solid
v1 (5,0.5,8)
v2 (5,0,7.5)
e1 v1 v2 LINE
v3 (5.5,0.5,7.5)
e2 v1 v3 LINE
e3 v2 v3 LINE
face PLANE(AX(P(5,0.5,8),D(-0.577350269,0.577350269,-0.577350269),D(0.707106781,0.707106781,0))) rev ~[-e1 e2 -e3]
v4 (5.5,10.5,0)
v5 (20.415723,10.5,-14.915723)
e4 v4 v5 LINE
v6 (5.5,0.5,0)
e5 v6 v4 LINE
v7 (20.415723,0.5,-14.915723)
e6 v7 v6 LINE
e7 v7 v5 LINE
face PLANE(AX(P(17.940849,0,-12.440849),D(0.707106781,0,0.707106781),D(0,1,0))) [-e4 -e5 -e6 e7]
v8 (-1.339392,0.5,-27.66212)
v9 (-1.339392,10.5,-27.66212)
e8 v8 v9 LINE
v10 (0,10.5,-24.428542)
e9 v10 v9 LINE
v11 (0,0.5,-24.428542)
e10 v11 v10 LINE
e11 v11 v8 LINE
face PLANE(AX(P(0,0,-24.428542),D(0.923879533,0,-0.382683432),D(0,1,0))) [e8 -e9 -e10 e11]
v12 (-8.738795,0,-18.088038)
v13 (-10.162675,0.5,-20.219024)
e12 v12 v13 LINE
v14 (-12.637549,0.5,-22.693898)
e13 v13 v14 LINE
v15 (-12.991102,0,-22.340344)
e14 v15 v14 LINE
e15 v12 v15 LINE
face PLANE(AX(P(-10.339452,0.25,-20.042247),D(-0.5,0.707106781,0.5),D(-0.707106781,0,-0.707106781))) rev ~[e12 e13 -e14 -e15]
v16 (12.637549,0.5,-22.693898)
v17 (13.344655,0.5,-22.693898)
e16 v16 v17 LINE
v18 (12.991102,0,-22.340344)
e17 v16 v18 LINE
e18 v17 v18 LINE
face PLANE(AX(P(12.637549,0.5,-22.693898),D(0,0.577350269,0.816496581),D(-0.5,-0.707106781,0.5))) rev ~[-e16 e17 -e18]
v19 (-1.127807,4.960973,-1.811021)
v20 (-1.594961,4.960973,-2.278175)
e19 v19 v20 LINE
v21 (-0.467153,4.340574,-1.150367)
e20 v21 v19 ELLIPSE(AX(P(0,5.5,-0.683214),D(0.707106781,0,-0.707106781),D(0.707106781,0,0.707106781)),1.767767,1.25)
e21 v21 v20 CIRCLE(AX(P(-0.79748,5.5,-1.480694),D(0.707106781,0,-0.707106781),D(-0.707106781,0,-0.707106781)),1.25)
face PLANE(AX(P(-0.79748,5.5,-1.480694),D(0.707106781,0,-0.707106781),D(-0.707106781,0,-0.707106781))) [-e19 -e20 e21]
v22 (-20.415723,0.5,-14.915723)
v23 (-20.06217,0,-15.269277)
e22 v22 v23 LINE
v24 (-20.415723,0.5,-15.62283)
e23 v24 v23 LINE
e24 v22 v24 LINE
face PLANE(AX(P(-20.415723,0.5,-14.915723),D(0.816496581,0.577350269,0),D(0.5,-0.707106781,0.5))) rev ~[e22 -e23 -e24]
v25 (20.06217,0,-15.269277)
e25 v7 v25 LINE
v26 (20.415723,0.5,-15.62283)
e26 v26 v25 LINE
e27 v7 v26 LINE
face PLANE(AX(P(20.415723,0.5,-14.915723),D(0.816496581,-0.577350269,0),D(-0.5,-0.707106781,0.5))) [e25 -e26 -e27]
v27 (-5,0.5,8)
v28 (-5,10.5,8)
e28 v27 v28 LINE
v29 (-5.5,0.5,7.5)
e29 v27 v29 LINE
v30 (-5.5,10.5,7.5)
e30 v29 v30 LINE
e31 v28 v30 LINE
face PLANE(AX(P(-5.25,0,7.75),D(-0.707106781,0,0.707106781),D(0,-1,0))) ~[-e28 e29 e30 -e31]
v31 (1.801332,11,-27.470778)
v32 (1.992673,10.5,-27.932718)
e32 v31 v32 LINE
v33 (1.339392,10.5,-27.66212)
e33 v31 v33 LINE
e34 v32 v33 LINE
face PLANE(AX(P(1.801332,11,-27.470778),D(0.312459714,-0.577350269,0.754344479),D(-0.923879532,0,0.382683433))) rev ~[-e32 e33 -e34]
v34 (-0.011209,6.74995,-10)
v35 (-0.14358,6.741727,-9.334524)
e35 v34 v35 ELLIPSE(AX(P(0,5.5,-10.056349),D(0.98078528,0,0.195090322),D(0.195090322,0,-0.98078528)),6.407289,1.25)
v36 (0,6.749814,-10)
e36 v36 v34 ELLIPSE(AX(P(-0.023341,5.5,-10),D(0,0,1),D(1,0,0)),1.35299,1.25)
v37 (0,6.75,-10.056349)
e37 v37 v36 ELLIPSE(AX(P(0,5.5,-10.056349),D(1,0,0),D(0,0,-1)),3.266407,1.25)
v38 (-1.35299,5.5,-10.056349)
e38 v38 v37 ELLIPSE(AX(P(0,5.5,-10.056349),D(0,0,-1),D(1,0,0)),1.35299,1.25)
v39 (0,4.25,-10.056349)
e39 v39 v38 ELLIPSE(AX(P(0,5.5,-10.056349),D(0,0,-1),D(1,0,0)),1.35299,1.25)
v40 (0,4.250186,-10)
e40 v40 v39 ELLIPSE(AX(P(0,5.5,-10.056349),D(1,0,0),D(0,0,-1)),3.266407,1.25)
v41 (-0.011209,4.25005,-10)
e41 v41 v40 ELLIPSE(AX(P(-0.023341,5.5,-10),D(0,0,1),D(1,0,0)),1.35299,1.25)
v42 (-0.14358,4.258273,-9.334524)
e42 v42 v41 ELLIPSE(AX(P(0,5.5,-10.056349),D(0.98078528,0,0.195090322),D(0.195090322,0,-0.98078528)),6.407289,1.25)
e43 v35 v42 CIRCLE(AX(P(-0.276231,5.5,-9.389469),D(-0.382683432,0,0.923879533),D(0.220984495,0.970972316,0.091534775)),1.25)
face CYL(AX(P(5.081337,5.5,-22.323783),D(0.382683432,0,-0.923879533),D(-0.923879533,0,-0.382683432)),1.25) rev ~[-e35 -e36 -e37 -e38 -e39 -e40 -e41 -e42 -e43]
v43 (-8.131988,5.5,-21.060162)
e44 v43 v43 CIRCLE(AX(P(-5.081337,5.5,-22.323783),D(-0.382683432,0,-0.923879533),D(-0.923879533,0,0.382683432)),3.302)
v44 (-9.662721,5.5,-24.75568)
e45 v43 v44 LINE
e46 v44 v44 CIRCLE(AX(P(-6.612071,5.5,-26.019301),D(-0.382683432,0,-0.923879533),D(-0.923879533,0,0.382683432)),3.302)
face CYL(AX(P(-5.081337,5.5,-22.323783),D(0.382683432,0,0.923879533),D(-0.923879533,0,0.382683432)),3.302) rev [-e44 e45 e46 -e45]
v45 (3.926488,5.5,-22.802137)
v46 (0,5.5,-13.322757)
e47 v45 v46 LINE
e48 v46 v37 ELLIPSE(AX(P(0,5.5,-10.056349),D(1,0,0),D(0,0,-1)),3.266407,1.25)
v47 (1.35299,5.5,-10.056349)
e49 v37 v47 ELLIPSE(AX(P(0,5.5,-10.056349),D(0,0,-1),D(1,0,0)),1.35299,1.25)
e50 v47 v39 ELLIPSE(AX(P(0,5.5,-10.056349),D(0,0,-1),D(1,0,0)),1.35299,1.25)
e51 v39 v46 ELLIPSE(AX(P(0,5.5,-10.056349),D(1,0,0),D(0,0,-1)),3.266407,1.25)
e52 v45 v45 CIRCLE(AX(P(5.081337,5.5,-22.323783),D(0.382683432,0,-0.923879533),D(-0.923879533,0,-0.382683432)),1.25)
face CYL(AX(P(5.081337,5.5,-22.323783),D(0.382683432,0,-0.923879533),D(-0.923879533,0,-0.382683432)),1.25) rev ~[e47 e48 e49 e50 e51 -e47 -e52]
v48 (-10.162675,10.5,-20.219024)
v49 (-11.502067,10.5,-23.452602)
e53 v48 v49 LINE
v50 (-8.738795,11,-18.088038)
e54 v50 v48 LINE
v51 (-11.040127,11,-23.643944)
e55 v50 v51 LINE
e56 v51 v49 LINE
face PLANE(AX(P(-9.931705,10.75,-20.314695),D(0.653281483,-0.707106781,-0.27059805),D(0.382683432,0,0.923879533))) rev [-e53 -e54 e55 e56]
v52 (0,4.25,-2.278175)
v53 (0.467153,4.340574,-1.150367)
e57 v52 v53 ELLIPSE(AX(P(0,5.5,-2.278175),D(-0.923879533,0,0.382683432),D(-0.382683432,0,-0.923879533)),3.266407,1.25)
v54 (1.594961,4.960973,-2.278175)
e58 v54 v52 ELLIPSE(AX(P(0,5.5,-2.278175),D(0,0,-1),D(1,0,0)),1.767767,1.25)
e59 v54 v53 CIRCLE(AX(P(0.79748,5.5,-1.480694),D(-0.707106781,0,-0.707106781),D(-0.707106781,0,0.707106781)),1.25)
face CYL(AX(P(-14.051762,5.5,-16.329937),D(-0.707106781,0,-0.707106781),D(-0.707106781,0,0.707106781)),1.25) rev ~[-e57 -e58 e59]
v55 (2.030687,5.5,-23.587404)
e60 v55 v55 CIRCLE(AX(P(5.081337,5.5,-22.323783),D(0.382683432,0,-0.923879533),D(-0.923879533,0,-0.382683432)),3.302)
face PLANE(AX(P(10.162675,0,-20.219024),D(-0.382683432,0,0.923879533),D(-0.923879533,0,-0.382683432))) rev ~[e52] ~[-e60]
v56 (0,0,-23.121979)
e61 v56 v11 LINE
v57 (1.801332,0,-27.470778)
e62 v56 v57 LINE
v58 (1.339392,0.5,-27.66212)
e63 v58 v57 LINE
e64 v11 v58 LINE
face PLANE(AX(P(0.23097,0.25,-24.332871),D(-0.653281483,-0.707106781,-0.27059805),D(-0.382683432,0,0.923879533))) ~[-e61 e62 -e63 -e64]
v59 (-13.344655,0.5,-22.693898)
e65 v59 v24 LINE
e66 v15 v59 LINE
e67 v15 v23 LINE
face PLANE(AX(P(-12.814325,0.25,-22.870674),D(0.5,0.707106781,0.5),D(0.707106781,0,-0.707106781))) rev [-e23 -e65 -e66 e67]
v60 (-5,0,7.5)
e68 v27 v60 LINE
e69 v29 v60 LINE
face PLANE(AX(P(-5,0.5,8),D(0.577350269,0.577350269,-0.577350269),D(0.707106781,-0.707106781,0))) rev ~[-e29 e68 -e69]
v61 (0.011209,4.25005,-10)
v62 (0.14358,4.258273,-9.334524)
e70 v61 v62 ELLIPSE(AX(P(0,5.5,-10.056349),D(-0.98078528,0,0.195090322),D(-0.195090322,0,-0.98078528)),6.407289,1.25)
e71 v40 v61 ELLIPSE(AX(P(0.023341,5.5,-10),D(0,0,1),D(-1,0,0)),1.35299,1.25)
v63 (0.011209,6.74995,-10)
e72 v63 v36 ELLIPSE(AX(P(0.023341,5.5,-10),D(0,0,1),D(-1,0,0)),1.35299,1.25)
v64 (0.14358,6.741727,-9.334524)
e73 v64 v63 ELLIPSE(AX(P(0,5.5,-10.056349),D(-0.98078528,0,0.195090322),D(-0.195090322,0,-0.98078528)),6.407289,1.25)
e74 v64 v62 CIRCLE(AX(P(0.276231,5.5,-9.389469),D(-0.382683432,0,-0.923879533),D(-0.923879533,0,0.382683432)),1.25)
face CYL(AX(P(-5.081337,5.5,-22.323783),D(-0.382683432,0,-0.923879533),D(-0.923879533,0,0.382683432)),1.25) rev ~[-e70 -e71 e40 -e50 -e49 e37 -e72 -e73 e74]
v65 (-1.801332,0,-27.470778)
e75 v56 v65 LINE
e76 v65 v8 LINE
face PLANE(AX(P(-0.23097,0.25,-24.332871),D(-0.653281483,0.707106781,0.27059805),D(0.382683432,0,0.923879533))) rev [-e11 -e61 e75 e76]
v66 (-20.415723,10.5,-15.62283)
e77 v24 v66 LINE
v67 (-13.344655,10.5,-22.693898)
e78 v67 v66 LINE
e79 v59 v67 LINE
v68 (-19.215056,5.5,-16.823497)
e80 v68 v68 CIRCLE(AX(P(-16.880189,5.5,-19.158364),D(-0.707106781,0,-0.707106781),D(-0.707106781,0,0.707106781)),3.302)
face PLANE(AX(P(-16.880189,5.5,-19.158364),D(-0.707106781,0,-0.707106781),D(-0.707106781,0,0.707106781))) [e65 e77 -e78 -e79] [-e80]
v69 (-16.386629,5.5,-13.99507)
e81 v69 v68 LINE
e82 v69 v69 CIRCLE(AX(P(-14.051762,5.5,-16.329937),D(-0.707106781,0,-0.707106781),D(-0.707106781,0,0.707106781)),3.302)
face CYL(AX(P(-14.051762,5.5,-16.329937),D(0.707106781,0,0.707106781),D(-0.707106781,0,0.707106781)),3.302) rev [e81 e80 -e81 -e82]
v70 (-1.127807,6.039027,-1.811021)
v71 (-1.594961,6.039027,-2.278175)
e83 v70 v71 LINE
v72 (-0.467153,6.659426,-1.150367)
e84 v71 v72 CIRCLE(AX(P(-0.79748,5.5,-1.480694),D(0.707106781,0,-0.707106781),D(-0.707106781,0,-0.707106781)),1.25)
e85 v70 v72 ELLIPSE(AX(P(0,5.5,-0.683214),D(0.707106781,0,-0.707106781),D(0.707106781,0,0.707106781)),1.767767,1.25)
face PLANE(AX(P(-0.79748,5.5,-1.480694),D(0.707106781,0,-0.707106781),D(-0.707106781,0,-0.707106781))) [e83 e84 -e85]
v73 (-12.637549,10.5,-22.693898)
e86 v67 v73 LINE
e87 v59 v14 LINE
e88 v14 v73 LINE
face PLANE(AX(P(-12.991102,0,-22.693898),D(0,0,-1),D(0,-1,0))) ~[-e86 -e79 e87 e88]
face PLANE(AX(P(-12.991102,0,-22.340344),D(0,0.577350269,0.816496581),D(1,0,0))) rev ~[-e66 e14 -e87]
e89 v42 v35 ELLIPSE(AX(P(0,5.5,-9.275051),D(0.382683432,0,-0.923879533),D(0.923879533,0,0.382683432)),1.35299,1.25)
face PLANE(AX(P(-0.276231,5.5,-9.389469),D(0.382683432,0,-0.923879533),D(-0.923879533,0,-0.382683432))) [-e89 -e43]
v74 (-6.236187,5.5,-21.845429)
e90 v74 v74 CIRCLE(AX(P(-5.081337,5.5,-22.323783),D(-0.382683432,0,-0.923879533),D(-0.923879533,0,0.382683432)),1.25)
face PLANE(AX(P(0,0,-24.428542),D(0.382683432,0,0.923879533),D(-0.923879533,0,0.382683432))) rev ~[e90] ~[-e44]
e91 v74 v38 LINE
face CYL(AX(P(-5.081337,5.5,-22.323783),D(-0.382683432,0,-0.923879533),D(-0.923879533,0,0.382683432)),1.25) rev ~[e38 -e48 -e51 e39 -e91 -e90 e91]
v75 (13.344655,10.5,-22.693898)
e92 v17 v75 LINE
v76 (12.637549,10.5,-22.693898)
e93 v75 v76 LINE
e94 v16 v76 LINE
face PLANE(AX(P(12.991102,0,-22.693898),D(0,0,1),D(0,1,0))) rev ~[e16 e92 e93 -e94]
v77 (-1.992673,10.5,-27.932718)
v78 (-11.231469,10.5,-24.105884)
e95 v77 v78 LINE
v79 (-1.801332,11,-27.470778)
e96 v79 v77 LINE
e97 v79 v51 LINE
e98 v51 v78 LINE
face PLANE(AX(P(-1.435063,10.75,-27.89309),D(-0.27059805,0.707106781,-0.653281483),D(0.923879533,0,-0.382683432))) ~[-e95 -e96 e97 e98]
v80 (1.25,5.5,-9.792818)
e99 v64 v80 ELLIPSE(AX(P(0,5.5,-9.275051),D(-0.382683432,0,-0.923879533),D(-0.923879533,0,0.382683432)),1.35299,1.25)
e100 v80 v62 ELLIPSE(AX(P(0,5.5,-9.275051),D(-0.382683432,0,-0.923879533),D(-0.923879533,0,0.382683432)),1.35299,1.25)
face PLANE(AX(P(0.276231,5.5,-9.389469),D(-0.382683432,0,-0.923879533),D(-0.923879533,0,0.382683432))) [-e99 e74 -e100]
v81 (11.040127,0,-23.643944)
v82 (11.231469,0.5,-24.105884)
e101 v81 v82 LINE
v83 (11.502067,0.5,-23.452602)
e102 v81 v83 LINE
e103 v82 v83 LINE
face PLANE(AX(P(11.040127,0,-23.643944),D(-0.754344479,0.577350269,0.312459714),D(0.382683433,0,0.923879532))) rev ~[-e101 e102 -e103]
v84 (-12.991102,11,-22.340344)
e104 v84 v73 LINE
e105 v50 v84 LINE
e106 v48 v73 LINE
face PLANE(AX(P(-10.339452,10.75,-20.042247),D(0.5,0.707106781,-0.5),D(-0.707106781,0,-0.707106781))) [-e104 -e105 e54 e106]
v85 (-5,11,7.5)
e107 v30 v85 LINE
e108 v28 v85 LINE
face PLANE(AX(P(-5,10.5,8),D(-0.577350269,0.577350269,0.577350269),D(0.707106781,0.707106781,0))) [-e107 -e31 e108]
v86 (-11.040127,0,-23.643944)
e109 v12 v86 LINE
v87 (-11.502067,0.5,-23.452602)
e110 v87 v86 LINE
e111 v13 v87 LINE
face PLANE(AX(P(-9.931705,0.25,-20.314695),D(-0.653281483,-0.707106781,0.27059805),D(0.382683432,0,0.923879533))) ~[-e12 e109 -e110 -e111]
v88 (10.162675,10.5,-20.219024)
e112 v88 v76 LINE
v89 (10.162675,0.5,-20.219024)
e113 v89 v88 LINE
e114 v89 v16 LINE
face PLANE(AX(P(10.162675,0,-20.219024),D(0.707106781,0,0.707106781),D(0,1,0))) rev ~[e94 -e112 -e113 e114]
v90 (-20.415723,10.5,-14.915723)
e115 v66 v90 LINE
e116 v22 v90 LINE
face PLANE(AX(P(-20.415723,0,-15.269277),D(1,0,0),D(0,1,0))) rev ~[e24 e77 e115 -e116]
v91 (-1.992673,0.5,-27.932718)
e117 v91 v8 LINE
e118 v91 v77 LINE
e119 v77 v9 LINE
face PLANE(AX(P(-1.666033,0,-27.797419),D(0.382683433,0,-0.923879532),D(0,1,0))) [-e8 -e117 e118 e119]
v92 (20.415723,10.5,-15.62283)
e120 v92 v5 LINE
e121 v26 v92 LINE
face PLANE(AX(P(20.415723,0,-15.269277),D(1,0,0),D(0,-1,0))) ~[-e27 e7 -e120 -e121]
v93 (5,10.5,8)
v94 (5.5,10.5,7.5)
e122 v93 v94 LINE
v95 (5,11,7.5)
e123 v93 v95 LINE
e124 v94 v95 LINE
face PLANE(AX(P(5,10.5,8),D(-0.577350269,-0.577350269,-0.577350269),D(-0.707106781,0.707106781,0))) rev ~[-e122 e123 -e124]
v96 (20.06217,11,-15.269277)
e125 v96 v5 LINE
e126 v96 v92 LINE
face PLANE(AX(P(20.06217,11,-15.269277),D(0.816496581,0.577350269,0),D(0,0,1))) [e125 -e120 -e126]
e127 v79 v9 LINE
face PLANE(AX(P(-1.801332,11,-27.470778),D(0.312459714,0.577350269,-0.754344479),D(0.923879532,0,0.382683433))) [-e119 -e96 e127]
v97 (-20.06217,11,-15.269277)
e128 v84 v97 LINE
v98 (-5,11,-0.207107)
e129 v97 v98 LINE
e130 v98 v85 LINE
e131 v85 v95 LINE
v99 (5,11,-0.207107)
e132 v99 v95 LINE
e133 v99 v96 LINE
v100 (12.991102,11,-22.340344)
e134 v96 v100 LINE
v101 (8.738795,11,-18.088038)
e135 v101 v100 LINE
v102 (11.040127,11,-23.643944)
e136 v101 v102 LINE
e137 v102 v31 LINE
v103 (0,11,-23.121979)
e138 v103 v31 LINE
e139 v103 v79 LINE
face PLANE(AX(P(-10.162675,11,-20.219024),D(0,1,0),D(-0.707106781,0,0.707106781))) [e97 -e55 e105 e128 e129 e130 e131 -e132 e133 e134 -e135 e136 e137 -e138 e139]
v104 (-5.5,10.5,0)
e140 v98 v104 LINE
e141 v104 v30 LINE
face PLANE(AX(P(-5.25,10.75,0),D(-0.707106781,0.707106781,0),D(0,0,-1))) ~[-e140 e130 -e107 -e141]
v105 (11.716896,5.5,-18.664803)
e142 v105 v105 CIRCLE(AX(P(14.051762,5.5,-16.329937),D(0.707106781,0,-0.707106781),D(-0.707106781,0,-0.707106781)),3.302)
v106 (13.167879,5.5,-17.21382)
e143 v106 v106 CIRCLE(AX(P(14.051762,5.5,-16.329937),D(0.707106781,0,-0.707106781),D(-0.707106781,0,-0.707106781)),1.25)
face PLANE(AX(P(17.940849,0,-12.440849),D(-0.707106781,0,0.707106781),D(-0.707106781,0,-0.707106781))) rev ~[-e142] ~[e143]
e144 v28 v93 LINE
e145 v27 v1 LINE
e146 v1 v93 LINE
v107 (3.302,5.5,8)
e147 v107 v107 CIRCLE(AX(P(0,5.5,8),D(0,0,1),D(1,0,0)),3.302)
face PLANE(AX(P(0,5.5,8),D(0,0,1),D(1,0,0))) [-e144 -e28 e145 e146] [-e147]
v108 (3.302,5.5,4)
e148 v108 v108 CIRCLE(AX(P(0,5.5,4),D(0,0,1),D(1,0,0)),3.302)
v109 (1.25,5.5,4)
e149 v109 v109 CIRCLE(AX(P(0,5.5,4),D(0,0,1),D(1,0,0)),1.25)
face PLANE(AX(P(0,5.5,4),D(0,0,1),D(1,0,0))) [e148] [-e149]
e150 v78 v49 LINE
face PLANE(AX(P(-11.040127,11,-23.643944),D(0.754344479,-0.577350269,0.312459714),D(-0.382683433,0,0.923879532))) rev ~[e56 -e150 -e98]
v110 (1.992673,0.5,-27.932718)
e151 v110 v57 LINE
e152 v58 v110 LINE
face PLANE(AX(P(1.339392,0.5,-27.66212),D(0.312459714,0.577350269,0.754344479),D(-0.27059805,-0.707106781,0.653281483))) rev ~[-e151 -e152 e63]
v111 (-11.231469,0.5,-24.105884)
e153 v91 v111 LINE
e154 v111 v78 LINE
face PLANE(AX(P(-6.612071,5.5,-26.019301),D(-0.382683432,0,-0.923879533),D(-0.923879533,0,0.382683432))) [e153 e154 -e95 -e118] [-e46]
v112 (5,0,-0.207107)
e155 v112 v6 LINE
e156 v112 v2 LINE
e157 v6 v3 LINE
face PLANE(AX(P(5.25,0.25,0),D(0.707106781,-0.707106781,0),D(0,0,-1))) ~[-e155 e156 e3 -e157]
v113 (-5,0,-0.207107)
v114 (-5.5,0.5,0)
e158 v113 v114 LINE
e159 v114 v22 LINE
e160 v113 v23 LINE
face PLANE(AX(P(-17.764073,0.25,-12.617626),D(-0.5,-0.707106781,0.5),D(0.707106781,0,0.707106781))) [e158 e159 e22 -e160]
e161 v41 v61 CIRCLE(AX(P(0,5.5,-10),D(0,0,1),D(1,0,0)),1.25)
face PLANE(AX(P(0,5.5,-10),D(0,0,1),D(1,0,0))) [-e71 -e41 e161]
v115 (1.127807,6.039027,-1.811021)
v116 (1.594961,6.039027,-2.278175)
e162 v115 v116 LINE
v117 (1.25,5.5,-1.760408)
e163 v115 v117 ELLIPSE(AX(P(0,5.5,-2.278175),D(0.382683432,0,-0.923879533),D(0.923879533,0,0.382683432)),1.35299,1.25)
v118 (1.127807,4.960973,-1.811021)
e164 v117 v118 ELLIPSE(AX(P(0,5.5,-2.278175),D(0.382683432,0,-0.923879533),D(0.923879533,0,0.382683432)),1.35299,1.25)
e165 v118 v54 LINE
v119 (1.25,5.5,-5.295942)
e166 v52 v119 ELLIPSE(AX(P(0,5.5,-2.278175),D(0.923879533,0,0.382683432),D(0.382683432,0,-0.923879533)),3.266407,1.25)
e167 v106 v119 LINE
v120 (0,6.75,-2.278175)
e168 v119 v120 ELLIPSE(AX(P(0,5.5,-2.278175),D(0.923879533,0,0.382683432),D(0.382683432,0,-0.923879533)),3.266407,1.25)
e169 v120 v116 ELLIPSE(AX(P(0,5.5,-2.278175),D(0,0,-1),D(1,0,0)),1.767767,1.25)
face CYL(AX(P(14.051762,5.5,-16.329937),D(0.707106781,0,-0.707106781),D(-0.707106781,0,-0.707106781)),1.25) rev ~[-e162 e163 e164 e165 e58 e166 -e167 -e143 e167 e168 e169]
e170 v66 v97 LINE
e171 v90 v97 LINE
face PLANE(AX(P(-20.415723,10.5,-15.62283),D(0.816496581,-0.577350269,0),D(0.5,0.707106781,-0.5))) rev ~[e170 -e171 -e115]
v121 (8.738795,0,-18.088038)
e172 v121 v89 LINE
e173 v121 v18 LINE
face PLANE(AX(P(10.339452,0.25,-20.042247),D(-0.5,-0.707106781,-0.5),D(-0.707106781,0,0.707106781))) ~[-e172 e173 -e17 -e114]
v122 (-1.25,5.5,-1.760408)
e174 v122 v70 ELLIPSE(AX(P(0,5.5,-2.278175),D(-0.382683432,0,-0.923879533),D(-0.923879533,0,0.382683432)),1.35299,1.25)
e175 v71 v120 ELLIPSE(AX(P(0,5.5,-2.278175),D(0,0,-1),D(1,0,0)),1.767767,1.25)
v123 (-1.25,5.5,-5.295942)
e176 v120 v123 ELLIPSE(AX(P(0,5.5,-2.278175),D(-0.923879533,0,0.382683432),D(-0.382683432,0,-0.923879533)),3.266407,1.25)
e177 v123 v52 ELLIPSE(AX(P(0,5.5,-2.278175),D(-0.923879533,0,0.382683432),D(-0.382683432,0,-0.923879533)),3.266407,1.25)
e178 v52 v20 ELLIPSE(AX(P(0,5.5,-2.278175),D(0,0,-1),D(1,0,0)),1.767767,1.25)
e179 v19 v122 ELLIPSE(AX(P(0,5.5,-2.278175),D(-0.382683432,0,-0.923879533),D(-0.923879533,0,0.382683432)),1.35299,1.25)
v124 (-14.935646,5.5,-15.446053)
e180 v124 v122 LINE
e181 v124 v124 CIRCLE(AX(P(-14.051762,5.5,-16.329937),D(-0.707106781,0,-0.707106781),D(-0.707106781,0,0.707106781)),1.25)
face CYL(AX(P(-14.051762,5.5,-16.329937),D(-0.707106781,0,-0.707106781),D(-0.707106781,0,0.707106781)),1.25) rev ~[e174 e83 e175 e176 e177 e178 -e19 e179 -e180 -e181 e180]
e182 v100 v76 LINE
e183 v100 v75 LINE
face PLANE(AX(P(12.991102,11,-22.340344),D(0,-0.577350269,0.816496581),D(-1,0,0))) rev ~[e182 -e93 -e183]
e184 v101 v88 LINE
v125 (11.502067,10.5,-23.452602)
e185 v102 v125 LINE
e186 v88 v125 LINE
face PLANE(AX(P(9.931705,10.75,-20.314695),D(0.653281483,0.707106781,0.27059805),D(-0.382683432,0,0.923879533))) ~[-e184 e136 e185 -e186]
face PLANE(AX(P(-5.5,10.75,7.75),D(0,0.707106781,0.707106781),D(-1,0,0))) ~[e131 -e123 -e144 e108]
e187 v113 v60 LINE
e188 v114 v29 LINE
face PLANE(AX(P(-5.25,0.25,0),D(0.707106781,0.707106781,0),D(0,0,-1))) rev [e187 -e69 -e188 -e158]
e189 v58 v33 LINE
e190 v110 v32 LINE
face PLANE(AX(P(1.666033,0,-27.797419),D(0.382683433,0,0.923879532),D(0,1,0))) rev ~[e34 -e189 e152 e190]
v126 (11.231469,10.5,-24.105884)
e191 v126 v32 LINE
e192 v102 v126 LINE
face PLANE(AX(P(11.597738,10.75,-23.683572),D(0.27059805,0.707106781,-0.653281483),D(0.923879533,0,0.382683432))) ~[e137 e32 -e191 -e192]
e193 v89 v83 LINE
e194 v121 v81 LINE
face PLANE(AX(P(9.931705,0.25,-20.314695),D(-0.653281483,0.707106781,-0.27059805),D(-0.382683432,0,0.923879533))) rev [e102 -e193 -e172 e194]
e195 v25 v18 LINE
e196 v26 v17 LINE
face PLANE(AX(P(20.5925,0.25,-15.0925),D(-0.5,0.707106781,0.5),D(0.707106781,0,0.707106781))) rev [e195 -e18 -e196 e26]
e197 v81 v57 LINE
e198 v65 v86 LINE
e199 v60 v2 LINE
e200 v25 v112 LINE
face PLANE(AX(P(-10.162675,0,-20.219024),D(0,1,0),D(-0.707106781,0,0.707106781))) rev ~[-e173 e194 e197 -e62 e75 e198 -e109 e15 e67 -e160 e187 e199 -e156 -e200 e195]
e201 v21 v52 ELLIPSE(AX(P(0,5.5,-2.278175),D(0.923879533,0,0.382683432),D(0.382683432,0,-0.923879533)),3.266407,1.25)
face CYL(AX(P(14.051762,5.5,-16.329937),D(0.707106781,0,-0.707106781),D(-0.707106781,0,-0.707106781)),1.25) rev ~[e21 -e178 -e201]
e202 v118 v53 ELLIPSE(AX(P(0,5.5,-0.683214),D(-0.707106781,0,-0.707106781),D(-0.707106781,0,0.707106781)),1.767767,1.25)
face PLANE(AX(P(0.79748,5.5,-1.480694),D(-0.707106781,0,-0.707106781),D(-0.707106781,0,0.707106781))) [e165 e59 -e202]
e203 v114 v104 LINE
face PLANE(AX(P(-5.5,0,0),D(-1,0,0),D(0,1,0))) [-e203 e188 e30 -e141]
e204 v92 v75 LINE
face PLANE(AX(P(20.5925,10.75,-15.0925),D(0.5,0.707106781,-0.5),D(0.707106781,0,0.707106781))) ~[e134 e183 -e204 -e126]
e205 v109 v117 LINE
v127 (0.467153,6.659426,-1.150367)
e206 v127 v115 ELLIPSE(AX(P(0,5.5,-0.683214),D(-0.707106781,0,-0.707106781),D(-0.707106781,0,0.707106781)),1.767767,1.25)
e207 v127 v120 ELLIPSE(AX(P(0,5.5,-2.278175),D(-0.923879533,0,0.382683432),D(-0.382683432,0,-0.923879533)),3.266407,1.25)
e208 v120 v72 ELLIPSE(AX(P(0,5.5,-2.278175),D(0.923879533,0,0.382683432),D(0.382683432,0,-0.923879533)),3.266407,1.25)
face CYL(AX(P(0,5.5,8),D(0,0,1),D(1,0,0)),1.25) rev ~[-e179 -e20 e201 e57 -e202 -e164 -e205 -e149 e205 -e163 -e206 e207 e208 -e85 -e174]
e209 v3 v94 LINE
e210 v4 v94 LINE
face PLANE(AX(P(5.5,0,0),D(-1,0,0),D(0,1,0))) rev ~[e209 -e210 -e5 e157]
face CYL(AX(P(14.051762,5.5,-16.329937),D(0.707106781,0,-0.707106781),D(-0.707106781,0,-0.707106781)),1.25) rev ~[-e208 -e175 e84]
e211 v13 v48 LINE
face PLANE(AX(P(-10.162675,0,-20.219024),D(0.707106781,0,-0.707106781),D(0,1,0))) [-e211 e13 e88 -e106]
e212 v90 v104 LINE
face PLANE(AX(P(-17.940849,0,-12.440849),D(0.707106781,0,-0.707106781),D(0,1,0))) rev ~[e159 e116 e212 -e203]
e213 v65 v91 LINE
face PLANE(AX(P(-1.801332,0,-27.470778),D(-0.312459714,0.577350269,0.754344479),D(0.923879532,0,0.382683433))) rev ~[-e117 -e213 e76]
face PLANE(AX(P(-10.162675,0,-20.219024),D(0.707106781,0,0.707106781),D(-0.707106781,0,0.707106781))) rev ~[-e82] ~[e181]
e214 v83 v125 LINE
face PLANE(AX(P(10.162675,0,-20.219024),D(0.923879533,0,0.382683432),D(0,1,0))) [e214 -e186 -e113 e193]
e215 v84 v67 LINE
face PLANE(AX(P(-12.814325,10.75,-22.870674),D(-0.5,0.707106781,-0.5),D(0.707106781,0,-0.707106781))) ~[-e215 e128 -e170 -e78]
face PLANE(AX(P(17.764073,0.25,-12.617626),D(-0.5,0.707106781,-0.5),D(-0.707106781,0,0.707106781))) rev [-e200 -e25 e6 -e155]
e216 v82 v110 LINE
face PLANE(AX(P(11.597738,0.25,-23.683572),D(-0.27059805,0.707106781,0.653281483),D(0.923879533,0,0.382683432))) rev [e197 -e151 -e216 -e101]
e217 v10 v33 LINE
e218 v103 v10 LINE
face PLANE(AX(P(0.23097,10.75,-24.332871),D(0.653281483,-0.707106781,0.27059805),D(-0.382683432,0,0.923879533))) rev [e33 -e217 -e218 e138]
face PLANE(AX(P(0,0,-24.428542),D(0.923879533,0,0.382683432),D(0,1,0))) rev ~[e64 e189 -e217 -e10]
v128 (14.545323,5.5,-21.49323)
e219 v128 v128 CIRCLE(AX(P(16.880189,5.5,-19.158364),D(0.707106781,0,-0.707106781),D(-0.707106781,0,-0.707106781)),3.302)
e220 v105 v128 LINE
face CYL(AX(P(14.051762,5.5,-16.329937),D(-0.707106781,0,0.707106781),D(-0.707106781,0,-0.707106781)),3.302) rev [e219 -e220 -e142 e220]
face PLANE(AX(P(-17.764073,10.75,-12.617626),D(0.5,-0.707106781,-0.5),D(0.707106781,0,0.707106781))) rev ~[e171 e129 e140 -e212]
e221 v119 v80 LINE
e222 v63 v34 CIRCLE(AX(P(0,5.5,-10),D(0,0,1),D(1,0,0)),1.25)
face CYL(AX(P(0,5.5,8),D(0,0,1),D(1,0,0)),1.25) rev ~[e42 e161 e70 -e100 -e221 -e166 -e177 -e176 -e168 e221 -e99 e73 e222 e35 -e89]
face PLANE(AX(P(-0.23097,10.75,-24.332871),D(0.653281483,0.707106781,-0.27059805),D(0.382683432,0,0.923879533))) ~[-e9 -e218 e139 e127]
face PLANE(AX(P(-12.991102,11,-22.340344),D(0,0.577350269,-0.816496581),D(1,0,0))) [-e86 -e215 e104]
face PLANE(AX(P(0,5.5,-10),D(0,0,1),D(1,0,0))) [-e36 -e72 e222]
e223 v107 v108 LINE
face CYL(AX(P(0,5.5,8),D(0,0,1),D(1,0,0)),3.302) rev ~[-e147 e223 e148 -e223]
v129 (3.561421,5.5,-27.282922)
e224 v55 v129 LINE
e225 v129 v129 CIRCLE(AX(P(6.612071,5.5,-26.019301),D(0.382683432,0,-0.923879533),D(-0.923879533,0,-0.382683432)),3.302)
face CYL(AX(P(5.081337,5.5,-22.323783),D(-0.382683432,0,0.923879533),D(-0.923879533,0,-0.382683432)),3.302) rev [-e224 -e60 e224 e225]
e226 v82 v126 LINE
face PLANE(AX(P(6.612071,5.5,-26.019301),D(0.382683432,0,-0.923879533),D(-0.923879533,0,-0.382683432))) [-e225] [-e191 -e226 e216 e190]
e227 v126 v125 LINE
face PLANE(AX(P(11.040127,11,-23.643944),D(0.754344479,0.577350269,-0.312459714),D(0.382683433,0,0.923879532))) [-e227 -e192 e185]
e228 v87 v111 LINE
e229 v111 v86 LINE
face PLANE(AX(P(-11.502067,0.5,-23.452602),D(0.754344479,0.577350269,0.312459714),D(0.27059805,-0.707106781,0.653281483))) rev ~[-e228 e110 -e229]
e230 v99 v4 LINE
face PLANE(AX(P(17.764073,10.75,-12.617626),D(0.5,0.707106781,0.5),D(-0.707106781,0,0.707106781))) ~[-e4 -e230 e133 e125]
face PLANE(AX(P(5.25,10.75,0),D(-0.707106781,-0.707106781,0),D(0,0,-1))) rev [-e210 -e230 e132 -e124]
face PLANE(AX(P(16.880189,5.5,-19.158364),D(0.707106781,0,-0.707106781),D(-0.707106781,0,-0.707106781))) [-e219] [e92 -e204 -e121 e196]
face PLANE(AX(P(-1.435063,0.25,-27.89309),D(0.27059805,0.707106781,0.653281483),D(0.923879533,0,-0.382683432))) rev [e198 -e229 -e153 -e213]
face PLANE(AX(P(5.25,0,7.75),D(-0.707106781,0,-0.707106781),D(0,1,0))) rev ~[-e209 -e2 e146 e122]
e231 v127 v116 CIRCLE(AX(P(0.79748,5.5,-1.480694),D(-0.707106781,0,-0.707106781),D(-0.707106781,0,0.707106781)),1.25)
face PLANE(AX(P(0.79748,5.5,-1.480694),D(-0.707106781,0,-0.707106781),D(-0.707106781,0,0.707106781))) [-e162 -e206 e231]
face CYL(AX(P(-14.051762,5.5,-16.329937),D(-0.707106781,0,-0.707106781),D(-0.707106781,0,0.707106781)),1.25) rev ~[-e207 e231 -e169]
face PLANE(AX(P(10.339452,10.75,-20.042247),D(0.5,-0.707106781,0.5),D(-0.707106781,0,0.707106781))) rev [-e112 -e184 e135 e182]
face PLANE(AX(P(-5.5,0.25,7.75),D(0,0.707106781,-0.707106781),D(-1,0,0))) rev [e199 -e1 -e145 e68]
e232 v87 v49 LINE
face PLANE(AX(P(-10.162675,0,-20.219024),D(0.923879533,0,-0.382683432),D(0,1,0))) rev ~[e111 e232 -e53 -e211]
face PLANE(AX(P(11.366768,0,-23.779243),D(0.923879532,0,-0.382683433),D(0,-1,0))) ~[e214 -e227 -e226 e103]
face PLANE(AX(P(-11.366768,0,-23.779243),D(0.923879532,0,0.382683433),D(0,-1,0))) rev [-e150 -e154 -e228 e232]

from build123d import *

# Parameters (mm, degrees)
BOSS_EXTRUDE1_DEPTH = 11
SKETCH5_R           = 1.25
CUT_EXTRUDE3_DEPTH  = 21
SKETCH6_R           = 1.25
CUT_EXTRUDE4_DEPTH  = 14
SKETCH7_R           = 1.25
CUT_EXTRUDE5_DEPTH  = 14
SKETCH8_R           = 1.25
CUT_EXTRUDE6_DEPTH  = 21
SKETCH9_W           = 11
SKETCH9_H           = 11
BOSS_EXTRUDE2_DEPTH = 8
SKETCH10_R          = 1.25
CUT_EXTRUDE7_DEPTH  = 18
SKETCH12_R          = 3.302
CUT_EXTRUDE9_DEPTH  = 4
SKETCH18_W          = 11
SKETCH18_H          = 11
SKETCH18_R          = 3.302
BOSS_EXTRUDE3_DEPTH = 4
SKETCH19_W          = 11
SKETCH19_H          = 11
SKETCH19_R          = 3.302
BOSS_EXTRUDE4_DEPTH = 4
SKETCH20_W          = 11
SKETCH20_H          = 11
SKETCH20_R          = 3.302
BOSS_EXTRUDE5_DEPTH = 4
SKETCH22_W          = 11
SKETCH22_H          = 11
SKETCH22_R          = 3.302
BOSS_EXTRUDE7_DEPTH = 4
CHAMFER1_SIZE       = 0.5


with BuildPart() as part:
    # Sketch2 → Boss-Extrude1 (new body)
    with BuildSketch(Plane(origin=(0, 0, 0), x_dir=(1, 0, 0), z_dir=(0, 1, 0))):
        Polygon((0, 24.4285418), (-10.162674858, 20.219024044), (-17.940849451, 12.440849451), (-5.5, 0), (5.5, 0), (17.940849451, 12.440849451), (10.162674858, 20.219024044), align=None)
    extrude(amount=BOSS_EXTRUDE1_DEPTH)

    # Sketch5 → Cut-Extrude3 (cut)
    with BuildSketch(Plane(origin=(15.190849451, 0, -15.190849451), x_dir=(-0.707106781, 0, -0.707106781), z_dir=(0.707106781, 0, -0.707106781))):
        with Locations((1.610912703, 5.5)):
            Circle(SKETCH5_R)
    extrude(amount=-CUT_EXTRUDE3_DEPTH, mode=Mode.SUBTRACT)

    # Sketch6 → Cut-Extrude4 (cut)
    with BuildSketch(Plane(origin=(8.636793781, 0, -20.85106468), x_dir=(-0.923879533, 0, -0.382683432), z_dir=(0.382683432, 0, -0.923879533))):
        with Locations((3.848398224, 5.5)):
            Circle(SKETCH6_R)
    extrude(amount=-CUT_EXTRUDE4_DEPTH, mode=Mode.SUBTRACT)

    # Sketch7 → Cut-Extrude5 (cut)
    with BuildSketch(Plane(origin=(-8.636793781, 0, -20.85106468), x_dir=(-0.923879533, 0, 0.382683432), z_dir=(-0.382683432, 0, -0.923879533))):
        with Locations((-3.848398224, 5.5)):
            Circle(SKETCH7_R)
    extrude(amount=-CUT_EXTRUDE5_DEPTH, mode=Mode.SUBTRACT)

    # Sketch8 → Cut-Extrude6 (cut)
    with BuildSketch(Plane(origin=(-15.190849451, 0, -15.190849451), x_dir=(-0.707106781, 0, 0.707106781), z_dir=(-0.707106781, 0, -0.707106781))):
        with Locations((-1.610912703, 5.5)):
            Circle(SKETCH8_R)
    extrude(amount=-CUT_EXTRUDE6_DEPTH, mode=Mode.SUBTRACT)

    # Sketch9 → Boss-Extrude2 (add)
    with BuildSketch(Plane.XY):
        with Locations((0, 5.5)):
            Rectangle(SKETCH9_W, SKETCH9_H)
    extrude(amount=BOSS_EXTRUDE2_DEPTH)

    # Sketch10 → Cut-Extrude7 (cut)
    with BuildSketch(Plane.XY.offset(8)):
        with Locations((0, 5.5)):
            Circle(SKETCH10_R)
    extrude(amount=-CUT_EXTRUDE7_DEPTH, mode=Mode.SUBTRACT)

    # Sketch12 → Cut-Extrude9 (cut)
    with BuildSketch(Plane.XY.offset(8)):
        with Locations((0, 5.5)):
            Circle(SKETCH12_R)
    extrude(amount=-CUT_EXTRUDE9_DEPTH, mode=Mode.SUBTRACT)

    # Sketch18 → Boss-Extrude3 (add)
    with BuildSketch(Plane(origin=(15.190849451, 0, -15.190849451), x_dir=(-0.707106781, 0, -0.707106781), z_dir=(0.707106781, 0, -0.707106781))):
        with Locations((1.610912703, 5.5)):
            Rectangle(SKETCH18_W, SKETCH18_H)
        with Locations((1.610912703, 5.5)):
            Circle(SKETCH18_R, mode=Mode.SUBTRACT)
    extrude(amount=BOSS_EXTRUDE3_DEPTH)

    # Sketch19 → Boss-Extrude4 (add)
    with BuildSketch(Plane(origin=(8.636793781, 0, -20.85106468), x_dir=(-0.923879533, 0, -0.382683432), z_dir=(0.382683432, 0, -0.923879533))):
        with Locations((3.848398224, 5.5)):
            Rectangle(SKETCH19_W, SKETCH19_H)
        with Locations((3.848398224, 5.5)):
            Circle(SKETCH19_R, mode=Mode.SUBTRACT)
    extrude(amount=BOSS_EXTRUDE4_DEPTH)

    # Sketch20 → Boss-Extrude5 (add)
    with BuildSketch(Plane(origin=(-8.636793781, 0, -20.85106468), x_dir=(-0.923879533, 0, 0.382683432), z_dir=(-0.382683432, 0, -0.923879533))):
        with Locations((-3.848398224, 5.5)):
            Rectangle(SKETCH20_W, SKETCH20_H)
        with Locations((-3.848398224, 5.5)):
            Circle(SKETCH20_R, mode=Mode.SUBTRACT)
    extrude(amount=BOSS_EXTRUDE5_DEPTH)

    # Sketch22 → Boss-Extrude7 (add)
    with BuildSketch(Plane(origin=(-15.190849451, 0, -15.190849451), x_dir=(-0.707106781, 0, 0.707106781), z_dir=(-0.707106781, 0, -0.707106781))):
        with Locations((-1.610912703, 5.5)):
            Rectangle(SKETCH22_W, SKETCH22_H)
        with Locations((-1.610912703, 5.5)):
            Circle(SKETCH22_R, mode=Mode.SUBTRACT)
    extrude(amount=BOSS_EXTRUDE7_DEPTH)

    # Chamfer1
    chamfer1_edges = [part.edges().sort_by_distance(p)[0] for p in [
        (16.880189279, 0, -19.158363872),
        (20.769276575, 5.5, -15.269276575),
        (12.991101982, 5.5, -23.047451168),
        (11.57688842, 0, -21.633237606),
        (16.880189279, 11, -19.158363872),
        (11.57688842, 11, -21.633237606),
        (11.693408587, 5.5, -23.914542174),
        (6.612071158, 0, -26.019301052),
        (1.530733729, 5.5, -28.12405993),
        (6.612071158, 11, -26.019301052),
        (10.928041722, 11, -22.066783109),
        (10.928041722, 0, -22.066783109),
        (0.765366865, 0, -26.276300865),
        (0.765366865, 11, -26.276300865),
        (-1.530733729, 5.5, -28.12405993),
        (-6.612071158, 0, -26.019301052),
        (-11.693408587, 5.5, -23.914542174),
        (-6.612071158, 11, -26.019301052),
        (-0.765366865, 11, -26.276300865),
        (-0.765366865, 0, -26.276300865),
        (-10.928041722, 0, -22.066783109),
        (-10.928041722, 11, -22.066783109),
        (-13.134638288, 11, -7.634638288),
        (-12.991101982, 5.5, -23.047451168),
        (-16.880189279, 0, -19.158363872),
        (-20.769276575, 5.5, -15.269276575),
        (-16.880189279, 11, -19.158363872),
        (-11.57688842, 11, -21.633237606),
        (-11.57688842, 0, -21.633237606),
        (13.134638288, 11, -7.634638288),
        (-5.5, 11, 4),
        (-5.5, 0, 4),
        (5.5, 0, 4),
        (5.5, 11, 4),
        (-5.5, 5.5, 8),
        (0, 0, 8),
        (5.5, 5.5, 8),
        (13.134638288, 0, -7.634638288),
        (0, 11, 8),
        (-13.134638288, 0, -7.634638288),
    ]]
    chamfer(chamfer1_edges, length=CHAMFER1_SIZE)


solid = part.part
